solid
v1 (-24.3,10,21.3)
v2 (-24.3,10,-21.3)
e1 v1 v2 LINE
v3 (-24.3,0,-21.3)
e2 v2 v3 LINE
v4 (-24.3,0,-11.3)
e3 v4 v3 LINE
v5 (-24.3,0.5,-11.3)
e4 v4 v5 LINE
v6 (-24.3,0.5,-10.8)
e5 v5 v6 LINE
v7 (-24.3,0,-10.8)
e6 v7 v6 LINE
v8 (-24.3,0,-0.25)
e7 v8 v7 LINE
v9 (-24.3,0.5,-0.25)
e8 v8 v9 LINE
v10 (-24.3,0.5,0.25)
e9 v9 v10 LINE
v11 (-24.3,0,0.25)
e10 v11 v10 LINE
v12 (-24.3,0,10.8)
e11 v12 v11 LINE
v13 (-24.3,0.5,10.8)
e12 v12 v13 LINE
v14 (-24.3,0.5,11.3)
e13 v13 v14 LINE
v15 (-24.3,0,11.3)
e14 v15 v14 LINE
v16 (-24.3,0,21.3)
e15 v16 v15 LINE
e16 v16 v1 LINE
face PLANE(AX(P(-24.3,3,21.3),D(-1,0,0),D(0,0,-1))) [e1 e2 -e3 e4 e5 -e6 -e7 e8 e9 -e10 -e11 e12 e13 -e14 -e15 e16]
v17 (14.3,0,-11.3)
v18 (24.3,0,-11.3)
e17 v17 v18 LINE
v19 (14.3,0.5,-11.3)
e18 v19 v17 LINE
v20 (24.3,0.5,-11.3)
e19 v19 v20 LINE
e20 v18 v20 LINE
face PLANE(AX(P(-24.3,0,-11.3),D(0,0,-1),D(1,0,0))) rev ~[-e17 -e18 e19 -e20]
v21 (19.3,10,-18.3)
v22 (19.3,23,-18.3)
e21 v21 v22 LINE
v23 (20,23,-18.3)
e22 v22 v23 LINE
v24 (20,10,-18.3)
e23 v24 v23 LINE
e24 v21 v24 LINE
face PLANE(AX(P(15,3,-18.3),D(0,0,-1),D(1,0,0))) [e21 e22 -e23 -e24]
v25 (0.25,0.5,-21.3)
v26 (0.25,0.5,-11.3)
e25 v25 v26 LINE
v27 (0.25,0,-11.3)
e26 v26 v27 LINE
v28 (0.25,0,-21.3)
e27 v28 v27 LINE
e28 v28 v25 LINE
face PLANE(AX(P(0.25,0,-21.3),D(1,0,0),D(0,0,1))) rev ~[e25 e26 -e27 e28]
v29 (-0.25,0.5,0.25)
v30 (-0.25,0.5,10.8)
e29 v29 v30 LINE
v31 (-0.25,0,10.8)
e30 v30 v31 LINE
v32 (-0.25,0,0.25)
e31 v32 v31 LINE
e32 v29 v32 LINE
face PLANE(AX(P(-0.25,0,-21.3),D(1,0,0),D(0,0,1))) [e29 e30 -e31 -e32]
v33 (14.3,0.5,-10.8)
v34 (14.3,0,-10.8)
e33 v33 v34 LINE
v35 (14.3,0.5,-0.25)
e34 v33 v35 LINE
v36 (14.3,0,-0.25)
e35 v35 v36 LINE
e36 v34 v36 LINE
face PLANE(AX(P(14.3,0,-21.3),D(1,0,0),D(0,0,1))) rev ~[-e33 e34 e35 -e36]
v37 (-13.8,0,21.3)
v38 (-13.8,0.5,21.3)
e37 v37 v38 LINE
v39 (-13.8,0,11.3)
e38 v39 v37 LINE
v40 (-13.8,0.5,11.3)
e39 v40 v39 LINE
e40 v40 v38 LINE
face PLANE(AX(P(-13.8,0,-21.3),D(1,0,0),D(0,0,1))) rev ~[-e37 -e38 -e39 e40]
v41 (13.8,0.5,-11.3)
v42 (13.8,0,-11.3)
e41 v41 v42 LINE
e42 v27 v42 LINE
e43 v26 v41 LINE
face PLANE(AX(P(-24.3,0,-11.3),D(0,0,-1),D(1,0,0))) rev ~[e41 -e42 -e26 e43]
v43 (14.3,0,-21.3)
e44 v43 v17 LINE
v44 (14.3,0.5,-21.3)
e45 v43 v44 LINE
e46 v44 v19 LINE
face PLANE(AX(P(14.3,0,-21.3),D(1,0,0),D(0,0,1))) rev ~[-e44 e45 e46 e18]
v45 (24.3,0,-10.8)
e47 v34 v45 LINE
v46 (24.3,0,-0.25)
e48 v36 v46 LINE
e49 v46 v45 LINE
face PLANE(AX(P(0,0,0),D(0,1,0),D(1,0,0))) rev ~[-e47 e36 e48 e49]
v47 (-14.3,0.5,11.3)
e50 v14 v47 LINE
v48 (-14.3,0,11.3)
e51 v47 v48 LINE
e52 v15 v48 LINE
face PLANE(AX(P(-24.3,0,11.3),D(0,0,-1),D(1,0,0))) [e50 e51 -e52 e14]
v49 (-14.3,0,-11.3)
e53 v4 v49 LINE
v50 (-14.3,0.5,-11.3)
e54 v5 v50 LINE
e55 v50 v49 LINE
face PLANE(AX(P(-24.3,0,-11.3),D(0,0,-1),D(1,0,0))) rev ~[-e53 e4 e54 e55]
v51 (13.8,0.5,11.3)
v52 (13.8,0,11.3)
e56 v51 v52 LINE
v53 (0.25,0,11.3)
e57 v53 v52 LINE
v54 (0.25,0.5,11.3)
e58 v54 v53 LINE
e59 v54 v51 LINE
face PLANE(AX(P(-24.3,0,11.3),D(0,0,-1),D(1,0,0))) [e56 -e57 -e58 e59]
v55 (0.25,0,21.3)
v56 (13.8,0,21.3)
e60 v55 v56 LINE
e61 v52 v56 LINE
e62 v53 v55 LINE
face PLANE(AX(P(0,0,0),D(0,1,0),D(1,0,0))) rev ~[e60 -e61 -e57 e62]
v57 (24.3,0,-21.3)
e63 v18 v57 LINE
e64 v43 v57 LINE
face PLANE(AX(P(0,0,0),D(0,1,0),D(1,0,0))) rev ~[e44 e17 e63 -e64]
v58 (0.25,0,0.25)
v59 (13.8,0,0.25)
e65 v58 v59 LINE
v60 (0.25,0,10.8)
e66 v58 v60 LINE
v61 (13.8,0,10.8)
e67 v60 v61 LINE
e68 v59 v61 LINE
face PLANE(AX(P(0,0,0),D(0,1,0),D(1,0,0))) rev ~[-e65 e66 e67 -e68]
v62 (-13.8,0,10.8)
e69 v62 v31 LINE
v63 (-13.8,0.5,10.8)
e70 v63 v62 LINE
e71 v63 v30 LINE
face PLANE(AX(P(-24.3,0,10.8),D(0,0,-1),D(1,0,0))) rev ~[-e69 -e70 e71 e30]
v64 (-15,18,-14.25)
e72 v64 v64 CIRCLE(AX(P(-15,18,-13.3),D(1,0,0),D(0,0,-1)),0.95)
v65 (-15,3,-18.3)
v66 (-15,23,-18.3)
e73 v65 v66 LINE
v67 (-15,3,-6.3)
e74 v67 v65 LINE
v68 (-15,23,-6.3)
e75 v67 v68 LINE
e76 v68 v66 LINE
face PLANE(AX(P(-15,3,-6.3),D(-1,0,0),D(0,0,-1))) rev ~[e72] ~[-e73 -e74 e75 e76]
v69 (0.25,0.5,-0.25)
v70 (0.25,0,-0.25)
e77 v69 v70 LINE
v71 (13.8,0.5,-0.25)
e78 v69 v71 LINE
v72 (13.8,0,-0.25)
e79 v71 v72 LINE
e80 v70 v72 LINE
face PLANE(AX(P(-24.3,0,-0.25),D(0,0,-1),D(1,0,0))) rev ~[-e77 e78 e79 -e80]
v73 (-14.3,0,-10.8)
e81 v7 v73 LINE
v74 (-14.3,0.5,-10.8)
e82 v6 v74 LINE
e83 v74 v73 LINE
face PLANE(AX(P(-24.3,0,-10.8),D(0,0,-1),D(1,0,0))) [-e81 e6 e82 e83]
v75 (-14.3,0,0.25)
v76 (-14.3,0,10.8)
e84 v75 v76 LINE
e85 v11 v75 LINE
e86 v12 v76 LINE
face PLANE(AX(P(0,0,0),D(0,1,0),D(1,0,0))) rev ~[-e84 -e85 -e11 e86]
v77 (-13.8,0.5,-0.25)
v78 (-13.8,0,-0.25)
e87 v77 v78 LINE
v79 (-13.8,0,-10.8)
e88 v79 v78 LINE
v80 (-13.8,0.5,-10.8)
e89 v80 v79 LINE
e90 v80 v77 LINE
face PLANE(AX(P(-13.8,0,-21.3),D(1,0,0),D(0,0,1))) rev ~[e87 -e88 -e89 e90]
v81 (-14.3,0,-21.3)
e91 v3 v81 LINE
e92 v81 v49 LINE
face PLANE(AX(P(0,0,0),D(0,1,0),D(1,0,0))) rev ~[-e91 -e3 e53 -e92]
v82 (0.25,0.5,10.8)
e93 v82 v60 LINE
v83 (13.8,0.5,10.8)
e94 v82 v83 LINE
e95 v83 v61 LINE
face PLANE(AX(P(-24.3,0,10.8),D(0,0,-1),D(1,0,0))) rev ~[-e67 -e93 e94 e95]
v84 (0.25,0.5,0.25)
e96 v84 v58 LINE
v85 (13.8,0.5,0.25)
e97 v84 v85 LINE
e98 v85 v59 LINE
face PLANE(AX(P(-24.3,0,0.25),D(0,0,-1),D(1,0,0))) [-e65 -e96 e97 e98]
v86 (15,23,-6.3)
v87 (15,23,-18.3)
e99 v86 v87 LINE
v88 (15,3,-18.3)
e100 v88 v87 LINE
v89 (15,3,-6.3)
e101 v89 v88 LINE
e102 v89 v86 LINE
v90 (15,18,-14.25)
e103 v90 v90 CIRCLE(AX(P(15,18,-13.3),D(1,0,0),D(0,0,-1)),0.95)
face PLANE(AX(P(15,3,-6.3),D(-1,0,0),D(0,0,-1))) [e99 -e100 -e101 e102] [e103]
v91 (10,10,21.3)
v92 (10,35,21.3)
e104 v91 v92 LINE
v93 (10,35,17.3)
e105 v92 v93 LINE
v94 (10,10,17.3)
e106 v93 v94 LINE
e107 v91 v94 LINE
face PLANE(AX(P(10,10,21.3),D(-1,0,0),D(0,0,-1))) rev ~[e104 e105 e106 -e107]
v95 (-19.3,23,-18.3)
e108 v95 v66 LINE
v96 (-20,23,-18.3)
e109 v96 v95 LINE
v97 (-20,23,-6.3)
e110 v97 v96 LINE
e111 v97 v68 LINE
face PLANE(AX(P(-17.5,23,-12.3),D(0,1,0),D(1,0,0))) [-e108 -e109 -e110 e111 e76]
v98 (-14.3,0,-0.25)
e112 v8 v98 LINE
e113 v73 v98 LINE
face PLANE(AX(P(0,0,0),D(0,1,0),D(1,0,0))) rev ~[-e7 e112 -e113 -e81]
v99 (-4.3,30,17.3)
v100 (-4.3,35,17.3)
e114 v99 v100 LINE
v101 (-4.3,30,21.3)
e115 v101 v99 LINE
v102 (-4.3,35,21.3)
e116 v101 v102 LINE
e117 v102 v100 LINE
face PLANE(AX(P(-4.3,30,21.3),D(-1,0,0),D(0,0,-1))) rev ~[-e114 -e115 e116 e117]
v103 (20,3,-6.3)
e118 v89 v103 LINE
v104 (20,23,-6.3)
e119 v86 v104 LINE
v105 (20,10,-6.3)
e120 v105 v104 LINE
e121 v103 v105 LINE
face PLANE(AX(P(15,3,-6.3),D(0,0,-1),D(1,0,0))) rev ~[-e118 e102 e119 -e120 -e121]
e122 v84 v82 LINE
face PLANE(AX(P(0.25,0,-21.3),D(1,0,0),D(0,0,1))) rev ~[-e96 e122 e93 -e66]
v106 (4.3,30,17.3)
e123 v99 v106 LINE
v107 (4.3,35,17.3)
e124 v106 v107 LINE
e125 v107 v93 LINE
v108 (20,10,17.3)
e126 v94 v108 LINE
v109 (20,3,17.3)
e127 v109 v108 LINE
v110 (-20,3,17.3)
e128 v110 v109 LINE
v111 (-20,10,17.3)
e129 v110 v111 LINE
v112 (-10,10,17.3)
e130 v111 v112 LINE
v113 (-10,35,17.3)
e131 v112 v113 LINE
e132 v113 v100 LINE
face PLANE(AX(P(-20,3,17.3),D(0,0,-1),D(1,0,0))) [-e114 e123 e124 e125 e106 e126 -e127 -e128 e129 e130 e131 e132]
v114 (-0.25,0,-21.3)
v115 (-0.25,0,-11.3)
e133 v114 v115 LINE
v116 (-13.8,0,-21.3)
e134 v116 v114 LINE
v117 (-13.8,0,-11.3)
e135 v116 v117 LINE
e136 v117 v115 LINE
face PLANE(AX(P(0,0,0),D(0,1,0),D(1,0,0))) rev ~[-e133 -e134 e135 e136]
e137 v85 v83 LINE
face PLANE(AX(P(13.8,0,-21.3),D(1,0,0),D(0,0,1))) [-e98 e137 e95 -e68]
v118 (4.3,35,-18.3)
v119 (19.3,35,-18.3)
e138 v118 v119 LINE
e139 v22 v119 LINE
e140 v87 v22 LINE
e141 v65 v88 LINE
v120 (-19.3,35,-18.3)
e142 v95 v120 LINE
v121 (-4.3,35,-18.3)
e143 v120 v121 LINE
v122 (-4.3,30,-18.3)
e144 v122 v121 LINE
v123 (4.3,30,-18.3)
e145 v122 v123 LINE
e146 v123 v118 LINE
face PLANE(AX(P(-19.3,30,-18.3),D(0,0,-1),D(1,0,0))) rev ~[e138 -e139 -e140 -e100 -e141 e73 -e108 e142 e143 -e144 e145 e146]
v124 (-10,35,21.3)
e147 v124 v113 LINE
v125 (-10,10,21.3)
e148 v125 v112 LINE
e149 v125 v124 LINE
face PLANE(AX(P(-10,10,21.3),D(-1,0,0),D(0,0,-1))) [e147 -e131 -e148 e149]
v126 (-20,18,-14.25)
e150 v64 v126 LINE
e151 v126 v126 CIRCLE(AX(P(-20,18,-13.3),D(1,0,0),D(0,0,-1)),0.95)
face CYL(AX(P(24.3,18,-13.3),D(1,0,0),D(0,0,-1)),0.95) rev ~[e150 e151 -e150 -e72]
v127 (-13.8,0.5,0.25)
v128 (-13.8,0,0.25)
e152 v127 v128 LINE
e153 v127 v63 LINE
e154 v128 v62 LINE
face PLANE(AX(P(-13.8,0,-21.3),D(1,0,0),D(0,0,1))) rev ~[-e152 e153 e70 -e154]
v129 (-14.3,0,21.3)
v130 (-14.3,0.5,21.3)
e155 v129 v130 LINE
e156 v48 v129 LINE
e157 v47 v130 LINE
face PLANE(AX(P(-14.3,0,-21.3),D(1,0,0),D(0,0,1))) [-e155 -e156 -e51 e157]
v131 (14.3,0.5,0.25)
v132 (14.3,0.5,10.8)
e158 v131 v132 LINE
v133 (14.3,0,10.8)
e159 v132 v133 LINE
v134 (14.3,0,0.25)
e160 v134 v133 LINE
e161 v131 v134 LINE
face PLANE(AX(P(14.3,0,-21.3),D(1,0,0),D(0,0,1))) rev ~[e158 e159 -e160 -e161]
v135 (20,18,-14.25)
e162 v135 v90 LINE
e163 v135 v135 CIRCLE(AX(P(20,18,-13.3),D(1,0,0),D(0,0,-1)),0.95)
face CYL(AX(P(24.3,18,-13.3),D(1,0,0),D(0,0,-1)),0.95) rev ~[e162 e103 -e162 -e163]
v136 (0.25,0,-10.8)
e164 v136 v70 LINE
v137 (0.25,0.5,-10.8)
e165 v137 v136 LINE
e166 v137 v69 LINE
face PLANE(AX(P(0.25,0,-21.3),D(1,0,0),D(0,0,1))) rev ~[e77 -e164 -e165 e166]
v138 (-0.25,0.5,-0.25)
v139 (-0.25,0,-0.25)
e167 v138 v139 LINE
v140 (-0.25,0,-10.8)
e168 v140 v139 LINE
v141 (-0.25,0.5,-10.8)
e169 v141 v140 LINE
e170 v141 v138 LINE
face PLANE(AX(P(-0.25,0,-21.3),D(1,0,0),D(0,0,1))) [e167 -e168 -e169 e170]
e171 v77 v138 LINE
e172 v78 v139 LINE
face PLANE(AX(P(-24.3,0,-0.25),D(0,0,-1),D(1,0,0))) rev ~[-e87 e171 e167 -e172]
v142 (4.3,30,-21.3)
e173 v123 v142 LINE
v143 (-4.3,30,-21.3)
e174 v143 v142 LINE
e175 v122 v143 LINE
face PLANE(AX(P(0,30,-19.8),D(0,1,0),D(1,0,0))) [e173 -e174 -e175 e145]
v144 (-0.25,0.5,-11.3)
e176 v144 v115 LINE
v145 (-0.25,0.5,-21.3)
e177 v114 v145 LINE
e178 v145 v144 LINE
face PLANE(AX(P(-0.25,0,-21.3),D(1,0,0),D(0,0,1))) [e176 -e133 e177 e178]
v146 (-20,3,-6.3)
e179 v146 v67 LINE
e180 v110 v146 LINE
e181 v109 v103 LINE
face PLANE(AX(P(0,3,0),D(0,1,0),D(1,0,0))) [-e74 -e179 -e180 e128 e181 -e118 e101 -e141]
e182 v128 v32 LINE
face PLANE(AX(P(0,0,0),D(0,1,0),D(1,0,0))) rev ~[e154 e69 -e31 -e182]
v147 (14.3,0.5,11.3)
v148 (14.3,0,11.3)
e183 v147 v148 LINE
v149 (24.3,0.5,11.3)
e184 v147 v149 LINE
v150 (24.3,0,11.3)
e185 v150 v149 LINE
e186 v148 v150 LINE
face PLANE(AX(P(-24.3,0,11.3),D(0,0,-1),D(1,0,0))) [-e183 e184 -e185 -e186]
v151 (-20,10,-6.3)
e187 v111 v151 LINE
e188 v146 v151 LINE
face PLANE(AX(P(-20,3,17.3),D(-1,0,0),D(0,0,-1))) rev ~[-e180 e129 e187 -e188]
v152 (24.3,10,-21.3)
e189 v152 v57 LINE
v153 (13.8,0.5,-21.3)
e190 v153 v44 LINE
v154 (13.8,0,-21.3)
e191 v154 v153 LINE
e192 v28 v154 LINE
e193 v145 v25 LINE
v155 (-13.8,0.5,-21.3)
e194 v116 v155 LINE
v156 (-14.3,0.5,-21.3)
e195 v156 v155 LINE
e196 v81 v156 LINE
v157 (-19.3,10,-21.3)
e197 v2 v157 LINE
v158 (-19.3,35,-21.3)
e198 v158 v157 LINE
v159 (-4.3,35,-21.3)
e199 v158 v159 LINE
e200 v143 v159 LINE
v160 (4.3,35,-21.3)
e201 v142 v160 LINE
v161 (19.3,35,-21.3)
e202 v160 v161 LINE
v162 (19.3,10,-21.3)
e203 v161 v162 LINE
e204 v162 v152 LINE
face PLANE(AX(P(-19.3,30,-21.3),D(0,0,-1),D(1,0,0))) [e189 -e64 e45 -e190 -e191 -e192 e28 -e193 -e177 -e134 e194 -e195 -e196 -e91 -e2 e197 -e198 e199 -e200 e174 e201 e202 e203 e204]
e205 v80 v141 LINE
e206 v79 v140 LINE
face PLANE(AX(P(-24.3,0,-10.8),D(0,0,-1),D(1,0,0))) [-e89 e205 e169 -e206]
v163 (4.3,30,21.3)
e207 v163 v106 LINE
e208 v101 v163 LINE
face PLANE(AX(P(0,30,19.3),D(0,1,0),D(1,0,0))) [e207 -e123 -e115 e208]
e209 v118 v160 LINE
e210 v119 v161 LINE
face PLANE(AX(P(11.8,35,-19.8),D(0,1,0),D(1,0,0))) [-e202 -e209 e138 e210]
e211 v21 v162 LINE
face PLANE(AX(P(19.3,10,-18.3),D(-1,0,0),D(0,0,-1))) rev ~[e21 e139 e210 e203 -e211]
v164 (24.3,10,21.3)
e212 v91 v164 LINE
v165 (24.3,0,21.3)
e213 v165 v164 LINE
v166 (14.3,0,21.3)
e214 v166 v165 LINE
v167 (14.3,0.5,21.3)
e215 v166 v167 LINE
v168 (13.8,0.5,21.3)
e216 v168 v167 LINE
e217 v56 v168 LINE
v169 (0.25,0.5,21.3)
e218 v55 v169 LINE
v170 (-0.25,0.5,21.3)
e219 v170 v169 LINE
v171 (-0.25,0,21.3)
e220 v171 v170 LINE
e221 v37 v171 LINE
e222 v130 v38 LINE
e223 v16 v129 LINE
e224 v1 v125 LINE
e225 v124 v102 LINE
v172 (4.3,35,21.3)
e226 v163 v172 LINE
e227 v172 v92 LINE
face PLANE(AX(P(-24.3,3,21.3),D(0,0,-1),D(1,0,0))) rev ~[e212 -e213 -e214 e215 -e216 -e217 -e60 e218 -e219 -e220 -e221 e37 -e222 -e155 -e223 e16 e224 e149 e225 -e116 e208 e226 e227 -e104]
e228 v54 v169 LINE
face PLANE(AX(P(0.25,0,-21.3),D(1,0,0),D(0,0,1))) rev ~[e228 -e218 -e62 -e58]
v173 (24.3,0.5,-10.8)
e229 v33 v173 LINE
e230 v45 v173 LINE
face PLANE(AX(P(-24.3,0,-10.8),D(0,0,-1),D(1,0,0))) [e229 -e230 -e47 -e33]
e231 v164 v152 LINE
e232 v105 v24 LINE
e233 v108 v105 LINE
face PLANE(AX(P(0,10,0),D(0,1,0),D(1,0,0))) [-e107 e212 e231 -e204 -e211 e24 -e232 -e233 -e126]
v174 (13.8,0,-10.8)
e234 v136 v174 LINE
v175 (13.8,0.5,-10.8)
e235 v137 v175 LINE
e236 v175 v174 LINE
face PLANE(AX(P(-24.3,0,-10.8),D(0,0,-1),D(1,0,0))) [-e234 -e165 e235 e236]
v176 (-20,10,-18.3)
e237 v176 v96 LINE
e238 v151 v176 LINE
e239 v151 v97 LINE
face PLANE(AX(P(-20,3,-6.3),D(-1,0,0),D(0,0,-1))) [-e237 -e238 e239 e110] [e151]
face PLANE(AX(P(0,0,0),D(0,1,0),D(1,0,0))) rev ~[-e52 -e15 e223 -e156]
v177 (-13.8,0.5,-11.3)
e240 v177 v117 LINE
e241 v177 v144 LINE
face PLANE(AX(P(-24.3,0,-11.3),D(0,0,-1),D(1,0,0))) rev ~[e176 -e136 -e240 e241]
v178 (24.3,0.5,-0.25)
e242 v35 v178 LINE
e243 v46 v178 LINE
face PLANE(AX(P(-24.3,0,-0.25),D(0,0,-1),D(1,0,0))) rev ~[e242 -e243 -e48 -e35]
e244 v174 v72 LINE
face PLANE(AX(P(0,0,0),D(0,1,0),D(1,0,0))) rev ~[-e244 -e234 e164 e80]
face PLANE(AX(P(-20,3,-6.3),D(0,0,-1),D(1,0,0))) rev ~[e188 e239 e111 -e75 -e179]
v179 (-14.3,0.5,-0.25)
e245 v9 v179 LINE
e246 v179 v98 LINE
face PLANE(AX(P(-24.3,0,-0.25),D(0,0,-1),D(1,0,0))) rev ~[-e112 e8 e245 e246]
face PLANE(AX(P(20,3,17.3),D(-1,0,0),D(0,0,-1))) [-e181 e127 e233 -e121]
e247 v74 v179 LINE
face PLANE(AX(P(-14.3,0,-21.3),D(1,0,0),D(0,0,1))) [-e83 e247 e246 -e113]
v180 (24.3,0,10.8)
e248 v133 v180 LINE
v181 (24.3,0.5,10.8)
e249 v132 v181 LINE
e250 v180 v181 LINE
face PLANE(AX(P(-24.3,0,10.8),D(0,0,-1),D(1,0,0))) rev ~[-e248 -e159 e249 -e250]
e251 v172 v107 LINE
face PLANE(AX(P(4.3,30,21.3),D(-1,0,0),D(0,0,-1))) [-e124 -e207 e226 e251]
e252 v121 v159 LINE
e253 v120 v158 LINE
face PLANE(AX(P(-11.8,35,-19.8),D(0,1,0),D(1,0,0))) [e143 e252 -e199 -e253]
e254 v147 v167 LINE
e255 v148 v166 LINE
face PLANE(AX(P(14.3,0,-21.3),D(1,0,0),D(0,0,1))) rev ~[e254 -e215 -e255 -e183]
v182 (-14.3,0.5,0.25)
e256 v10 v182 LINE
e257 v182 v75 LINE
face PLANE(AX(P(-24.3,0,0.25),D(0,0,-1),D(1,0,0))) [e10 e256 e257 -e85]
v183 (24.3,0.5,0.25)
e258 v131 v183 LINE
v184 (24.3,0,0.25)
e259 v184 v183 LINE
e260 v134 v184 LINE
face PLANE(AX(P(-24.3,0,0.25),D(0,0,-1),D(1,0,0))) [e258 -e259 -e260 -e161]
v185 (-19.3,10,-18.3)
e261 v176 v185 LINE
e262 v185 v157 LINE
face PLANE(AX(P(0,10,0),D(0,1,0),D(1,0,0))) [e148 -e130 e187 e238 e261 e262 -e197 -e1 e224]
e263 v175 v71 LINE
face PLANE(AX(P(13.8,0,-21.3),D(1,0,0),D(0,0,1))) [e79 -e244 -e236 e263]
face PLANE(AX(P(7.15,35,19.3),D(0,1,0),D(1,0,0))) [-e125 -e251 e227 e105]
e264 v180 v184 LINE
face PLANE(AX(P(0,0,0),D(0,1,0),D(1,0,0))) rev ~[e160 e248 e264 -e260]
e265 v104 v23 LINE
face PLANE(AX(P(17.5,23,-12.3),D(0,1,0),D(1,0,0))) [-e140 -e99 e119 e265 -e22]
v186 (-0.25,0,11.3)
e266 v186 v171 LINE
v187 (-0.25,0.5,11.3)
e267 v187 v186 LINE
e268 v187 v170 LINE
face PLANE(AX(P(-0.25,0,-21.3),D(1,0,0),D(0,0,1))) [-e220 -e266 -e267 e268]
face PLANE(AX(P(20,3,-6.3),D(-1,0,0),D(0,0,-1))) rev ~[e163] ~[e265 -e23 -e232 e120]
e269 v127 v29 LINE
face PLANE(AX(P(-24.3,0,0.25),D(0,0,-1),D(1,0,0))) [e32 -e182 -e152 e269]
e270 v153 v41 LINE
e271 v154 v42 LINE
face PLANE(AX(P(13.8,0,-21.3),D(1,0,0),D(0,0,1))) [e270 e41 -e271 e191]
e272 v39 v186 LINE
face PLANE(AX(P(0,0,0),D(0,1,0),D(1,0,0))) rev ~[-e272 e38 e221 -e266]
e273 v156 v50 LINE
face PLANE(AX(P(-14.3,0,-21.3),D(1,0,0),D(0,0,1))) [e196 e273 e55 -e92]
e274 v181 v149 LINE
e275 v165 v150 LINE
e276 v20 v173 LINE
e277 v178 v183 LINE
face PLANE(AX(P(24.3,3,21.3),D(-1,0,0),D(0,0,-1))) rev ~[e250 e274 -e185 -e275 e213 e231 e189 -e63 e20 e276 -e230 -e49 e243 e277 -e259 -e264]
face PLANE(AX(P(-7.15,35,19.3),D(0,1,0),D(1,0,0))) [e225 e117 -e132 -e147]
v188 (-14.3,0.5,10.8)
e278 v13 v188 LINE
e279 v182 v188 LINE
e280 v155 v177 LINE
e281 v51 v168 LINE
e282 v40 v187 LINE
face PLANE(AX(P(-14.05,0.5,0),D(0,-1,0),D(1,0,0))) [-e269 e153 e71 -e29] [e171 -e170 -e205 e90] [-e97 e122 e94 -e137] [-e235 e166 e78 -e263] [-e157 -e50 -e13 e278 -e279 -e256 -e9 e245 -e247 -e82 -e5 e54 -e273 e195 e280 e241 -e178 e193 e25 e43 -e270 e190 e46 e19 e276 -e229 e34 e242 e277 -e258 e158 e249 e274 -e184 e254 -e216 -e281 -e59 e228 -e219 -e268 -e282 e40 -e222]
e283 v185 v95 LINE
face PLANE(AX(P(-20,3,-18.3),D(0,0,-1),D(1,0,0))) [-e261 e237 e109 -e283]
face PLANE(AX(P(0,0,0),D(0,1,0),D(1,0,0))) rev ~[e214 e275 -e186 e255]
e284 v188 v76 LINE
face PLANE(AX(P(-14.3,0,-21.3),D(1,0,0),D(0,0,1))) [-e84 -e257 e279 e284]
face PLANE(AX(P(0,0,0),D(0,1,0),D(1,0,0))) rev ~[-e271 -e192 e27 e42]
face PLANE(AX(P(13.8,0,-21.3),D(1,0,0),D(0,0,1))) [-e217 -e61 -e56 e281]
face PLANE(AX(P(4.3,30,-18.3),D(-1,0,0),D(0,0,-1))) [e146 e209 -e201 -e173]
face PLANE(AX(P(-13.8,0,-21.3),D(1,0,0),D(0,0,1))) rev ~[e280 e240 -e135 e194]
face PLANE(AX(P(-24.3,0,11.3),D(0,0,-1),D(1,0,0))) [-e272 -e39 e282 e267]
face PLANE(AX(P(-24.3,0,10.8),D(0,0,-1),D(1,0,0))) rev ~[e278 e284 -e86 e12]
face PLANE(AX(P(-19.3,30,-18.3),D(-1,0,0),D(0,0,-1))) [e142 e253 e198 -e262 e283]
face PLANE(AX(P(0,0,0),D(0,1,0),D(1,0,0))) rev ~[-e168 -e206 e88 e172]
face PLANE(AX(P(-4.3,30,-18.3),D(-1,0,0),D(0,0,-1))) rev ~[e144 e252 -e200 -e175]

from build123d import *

# Parameters (mm, degrees)
SKETCH_1_W          = 48.6
SKETCH_1_H          = 42.6
EXTRUDE_1_DEPTH     = 3
SKETCH_2_W          = 48.6
SKETCH_2_H          = 42.6
SKETCH_2_W_2        = 40
SKETCH_2_H_2        = 35.6
EXTRUDE_2_DEPTH     = 7
SKETCH_3_W          = 20
SKETCH_3_H          = 4
SKETCH_3_W_2        = 38.6
SKETCH_3_H_2        = 3
EXTRUDE_3_DEPTH     = 20
SKETCH_6_W          = 15
SKETCH_6_H          = 3
SKETCH_6_W_2        = 5.7
SKETCH_6_H_2        = 4
EXTRUDE_4_DEPTH     = 5
SKETCH_7_W          = 5
SKETCH_7_H          = 12
EXTRUDE_5_DEPTH     = 20
SKETCH_8_R          = 0.95
CUT_EXTRUDE_1_DEPTH = 64.566107321
SKETCH_9_W          = 48.6
SKETCH_9_H          = 0.5
CUT_EXTRUDE_2_DEPTH = 0.5
SKETCH_10_W         = 0.5
SKETCH_10_H         = 42.6
CUT_EXTRUDE_3_DEPTH = 0.5


with BuildPart() as part:
    # 草图1 → 凸台-拉伸1 (new body)
    with BuildSketch(Plane(origin=(0, 0, 0), x_dir=(1, 0, 0), z_dir=(0, 1, 0))):
        Rectangle(SKETCH_1_W, SKETCH_1_H)
    extrude(amount=EXTRUDE_1_DEPTH)

    # 草图2 → 凸台-拉伸2 (add)
    with BuildSketch(Plane(origin=(0, 3, 0), x_dir=(1, 0, 0), z_dir=(0, 1, 0))):
        Rectangle(SKETCH_2_W, SKETCH_2_H)
        with Locations((0, 0.5)):
            Rectangle(SKETCH_2_W_2, SKETCH_2_H_2, mode=Mode.SUBTRACT)
    extrude(amount=EXTRUDE_2_DEPTH)

    # 草图3 → 凸台-拉伸3 (add)
    with BuildSketch(Plane(origin=(0, 10, 0), x_dir=(1, 0, 0), z_dir=(0, 1, 0))):
        with Locations((0, -19.3)):
            Rectangle(SKETCH_3_W, SKETCH_3_H)
        with Locations((0, 19.8)):
            Rectangle(SKETCH_3_W_2, SKETCH_3_H_2)
    extrude(amount=EXTRUDE_3_DEPTH)

    # 草图6 → 凸台-拉伸4 (add)
    with BuildSketch(Plane(origin=(0, 30, 0), x_dir=(1, 0, 0), z_dir=(0, 1, 0))):
        with Locations((-11.8, 19.8)):
            Rectangle(SKETCH_6_W, SKETCH_6_H)
        with Locations((11.8, 19.8)):
            Rectangle(SKETCH_6_W, SKETCH_6_H)
        with Locations((-7.15, -19.3)):
            Rectangle(SKETCH_6_W_2, SKETCH_6_H_2)
        with Locations((7.15, -19.3)):
            Rectangle(SKETCH_6_W_2, SKETCH_6_H_2)
    extrude(amount=EXTRUDE_4_DEPTH)

    # 草图7 → 凸台-拉伸5 (add)
    with BuildSketch(Plane(origin=(0, 3, 0), x_dir=(1, 0, 0), z_dir=(0, 1, 0))):
        with Locations((17.5, 12.3)):
            Rectangle(SKETCH_7_W, SKETCH_7_H)
        with Locations((-17.5, 12.3)):
            Rectangle(SKETCH_7_W, SKETCH_7_H)
    extrude(amount=EXTRUDE_5_DEPTH)

    # 草图8 → 切除-拉伸1 (cut, through all)
    with BuildSketch(Plane(origin=(24.3, 0, 0), x_dir=(0, 0, -1), z_dir=(1, 0, 0))):
        with Locations((13.3, 18)):
            Circle(SKETCH_8_R)
    extrude(amount=-CUT_EXTRUDE_1_DEPTH, mode=Mode.SUBTRACT)

    # 草图9 → 切除-拉伸2 (cut)
    with BuildSketch(Plane.XZ):
        with Locations((0, 11.05)):
            Rectangle(SKETCH_9_W, SKETCH_9_H)
        with Locations((0, -11.05)):
            Rectangle(SKETCH_9_W, SKETCH_9_H)
        Rectangle(SKETCH_9_W, SKETCH_9_H)
    extrude(amount=-CUT_EXTRUDE_2_DEPTH, mode=Mode.SUBTRACT)

    # 草图10 → 切除-拉伸3 (cut)
    with BuildSketch(Plane.XZ):
        Rectangle(SKETCH_10_W, SKETCH_10_H)
        with Locations((-14.05, 0)):
            Rectangle(SKETCH_10_W, SKETCH_10_H)
        with Locations((14.05, 0)):
            Rectangle(SKETCH_10_W, SKETCH_10_H)
    extrude(amount=-CUT_EXTRUDE_3_DEPTH, mode=Mode.SUBTRACT)


solid = part.part
